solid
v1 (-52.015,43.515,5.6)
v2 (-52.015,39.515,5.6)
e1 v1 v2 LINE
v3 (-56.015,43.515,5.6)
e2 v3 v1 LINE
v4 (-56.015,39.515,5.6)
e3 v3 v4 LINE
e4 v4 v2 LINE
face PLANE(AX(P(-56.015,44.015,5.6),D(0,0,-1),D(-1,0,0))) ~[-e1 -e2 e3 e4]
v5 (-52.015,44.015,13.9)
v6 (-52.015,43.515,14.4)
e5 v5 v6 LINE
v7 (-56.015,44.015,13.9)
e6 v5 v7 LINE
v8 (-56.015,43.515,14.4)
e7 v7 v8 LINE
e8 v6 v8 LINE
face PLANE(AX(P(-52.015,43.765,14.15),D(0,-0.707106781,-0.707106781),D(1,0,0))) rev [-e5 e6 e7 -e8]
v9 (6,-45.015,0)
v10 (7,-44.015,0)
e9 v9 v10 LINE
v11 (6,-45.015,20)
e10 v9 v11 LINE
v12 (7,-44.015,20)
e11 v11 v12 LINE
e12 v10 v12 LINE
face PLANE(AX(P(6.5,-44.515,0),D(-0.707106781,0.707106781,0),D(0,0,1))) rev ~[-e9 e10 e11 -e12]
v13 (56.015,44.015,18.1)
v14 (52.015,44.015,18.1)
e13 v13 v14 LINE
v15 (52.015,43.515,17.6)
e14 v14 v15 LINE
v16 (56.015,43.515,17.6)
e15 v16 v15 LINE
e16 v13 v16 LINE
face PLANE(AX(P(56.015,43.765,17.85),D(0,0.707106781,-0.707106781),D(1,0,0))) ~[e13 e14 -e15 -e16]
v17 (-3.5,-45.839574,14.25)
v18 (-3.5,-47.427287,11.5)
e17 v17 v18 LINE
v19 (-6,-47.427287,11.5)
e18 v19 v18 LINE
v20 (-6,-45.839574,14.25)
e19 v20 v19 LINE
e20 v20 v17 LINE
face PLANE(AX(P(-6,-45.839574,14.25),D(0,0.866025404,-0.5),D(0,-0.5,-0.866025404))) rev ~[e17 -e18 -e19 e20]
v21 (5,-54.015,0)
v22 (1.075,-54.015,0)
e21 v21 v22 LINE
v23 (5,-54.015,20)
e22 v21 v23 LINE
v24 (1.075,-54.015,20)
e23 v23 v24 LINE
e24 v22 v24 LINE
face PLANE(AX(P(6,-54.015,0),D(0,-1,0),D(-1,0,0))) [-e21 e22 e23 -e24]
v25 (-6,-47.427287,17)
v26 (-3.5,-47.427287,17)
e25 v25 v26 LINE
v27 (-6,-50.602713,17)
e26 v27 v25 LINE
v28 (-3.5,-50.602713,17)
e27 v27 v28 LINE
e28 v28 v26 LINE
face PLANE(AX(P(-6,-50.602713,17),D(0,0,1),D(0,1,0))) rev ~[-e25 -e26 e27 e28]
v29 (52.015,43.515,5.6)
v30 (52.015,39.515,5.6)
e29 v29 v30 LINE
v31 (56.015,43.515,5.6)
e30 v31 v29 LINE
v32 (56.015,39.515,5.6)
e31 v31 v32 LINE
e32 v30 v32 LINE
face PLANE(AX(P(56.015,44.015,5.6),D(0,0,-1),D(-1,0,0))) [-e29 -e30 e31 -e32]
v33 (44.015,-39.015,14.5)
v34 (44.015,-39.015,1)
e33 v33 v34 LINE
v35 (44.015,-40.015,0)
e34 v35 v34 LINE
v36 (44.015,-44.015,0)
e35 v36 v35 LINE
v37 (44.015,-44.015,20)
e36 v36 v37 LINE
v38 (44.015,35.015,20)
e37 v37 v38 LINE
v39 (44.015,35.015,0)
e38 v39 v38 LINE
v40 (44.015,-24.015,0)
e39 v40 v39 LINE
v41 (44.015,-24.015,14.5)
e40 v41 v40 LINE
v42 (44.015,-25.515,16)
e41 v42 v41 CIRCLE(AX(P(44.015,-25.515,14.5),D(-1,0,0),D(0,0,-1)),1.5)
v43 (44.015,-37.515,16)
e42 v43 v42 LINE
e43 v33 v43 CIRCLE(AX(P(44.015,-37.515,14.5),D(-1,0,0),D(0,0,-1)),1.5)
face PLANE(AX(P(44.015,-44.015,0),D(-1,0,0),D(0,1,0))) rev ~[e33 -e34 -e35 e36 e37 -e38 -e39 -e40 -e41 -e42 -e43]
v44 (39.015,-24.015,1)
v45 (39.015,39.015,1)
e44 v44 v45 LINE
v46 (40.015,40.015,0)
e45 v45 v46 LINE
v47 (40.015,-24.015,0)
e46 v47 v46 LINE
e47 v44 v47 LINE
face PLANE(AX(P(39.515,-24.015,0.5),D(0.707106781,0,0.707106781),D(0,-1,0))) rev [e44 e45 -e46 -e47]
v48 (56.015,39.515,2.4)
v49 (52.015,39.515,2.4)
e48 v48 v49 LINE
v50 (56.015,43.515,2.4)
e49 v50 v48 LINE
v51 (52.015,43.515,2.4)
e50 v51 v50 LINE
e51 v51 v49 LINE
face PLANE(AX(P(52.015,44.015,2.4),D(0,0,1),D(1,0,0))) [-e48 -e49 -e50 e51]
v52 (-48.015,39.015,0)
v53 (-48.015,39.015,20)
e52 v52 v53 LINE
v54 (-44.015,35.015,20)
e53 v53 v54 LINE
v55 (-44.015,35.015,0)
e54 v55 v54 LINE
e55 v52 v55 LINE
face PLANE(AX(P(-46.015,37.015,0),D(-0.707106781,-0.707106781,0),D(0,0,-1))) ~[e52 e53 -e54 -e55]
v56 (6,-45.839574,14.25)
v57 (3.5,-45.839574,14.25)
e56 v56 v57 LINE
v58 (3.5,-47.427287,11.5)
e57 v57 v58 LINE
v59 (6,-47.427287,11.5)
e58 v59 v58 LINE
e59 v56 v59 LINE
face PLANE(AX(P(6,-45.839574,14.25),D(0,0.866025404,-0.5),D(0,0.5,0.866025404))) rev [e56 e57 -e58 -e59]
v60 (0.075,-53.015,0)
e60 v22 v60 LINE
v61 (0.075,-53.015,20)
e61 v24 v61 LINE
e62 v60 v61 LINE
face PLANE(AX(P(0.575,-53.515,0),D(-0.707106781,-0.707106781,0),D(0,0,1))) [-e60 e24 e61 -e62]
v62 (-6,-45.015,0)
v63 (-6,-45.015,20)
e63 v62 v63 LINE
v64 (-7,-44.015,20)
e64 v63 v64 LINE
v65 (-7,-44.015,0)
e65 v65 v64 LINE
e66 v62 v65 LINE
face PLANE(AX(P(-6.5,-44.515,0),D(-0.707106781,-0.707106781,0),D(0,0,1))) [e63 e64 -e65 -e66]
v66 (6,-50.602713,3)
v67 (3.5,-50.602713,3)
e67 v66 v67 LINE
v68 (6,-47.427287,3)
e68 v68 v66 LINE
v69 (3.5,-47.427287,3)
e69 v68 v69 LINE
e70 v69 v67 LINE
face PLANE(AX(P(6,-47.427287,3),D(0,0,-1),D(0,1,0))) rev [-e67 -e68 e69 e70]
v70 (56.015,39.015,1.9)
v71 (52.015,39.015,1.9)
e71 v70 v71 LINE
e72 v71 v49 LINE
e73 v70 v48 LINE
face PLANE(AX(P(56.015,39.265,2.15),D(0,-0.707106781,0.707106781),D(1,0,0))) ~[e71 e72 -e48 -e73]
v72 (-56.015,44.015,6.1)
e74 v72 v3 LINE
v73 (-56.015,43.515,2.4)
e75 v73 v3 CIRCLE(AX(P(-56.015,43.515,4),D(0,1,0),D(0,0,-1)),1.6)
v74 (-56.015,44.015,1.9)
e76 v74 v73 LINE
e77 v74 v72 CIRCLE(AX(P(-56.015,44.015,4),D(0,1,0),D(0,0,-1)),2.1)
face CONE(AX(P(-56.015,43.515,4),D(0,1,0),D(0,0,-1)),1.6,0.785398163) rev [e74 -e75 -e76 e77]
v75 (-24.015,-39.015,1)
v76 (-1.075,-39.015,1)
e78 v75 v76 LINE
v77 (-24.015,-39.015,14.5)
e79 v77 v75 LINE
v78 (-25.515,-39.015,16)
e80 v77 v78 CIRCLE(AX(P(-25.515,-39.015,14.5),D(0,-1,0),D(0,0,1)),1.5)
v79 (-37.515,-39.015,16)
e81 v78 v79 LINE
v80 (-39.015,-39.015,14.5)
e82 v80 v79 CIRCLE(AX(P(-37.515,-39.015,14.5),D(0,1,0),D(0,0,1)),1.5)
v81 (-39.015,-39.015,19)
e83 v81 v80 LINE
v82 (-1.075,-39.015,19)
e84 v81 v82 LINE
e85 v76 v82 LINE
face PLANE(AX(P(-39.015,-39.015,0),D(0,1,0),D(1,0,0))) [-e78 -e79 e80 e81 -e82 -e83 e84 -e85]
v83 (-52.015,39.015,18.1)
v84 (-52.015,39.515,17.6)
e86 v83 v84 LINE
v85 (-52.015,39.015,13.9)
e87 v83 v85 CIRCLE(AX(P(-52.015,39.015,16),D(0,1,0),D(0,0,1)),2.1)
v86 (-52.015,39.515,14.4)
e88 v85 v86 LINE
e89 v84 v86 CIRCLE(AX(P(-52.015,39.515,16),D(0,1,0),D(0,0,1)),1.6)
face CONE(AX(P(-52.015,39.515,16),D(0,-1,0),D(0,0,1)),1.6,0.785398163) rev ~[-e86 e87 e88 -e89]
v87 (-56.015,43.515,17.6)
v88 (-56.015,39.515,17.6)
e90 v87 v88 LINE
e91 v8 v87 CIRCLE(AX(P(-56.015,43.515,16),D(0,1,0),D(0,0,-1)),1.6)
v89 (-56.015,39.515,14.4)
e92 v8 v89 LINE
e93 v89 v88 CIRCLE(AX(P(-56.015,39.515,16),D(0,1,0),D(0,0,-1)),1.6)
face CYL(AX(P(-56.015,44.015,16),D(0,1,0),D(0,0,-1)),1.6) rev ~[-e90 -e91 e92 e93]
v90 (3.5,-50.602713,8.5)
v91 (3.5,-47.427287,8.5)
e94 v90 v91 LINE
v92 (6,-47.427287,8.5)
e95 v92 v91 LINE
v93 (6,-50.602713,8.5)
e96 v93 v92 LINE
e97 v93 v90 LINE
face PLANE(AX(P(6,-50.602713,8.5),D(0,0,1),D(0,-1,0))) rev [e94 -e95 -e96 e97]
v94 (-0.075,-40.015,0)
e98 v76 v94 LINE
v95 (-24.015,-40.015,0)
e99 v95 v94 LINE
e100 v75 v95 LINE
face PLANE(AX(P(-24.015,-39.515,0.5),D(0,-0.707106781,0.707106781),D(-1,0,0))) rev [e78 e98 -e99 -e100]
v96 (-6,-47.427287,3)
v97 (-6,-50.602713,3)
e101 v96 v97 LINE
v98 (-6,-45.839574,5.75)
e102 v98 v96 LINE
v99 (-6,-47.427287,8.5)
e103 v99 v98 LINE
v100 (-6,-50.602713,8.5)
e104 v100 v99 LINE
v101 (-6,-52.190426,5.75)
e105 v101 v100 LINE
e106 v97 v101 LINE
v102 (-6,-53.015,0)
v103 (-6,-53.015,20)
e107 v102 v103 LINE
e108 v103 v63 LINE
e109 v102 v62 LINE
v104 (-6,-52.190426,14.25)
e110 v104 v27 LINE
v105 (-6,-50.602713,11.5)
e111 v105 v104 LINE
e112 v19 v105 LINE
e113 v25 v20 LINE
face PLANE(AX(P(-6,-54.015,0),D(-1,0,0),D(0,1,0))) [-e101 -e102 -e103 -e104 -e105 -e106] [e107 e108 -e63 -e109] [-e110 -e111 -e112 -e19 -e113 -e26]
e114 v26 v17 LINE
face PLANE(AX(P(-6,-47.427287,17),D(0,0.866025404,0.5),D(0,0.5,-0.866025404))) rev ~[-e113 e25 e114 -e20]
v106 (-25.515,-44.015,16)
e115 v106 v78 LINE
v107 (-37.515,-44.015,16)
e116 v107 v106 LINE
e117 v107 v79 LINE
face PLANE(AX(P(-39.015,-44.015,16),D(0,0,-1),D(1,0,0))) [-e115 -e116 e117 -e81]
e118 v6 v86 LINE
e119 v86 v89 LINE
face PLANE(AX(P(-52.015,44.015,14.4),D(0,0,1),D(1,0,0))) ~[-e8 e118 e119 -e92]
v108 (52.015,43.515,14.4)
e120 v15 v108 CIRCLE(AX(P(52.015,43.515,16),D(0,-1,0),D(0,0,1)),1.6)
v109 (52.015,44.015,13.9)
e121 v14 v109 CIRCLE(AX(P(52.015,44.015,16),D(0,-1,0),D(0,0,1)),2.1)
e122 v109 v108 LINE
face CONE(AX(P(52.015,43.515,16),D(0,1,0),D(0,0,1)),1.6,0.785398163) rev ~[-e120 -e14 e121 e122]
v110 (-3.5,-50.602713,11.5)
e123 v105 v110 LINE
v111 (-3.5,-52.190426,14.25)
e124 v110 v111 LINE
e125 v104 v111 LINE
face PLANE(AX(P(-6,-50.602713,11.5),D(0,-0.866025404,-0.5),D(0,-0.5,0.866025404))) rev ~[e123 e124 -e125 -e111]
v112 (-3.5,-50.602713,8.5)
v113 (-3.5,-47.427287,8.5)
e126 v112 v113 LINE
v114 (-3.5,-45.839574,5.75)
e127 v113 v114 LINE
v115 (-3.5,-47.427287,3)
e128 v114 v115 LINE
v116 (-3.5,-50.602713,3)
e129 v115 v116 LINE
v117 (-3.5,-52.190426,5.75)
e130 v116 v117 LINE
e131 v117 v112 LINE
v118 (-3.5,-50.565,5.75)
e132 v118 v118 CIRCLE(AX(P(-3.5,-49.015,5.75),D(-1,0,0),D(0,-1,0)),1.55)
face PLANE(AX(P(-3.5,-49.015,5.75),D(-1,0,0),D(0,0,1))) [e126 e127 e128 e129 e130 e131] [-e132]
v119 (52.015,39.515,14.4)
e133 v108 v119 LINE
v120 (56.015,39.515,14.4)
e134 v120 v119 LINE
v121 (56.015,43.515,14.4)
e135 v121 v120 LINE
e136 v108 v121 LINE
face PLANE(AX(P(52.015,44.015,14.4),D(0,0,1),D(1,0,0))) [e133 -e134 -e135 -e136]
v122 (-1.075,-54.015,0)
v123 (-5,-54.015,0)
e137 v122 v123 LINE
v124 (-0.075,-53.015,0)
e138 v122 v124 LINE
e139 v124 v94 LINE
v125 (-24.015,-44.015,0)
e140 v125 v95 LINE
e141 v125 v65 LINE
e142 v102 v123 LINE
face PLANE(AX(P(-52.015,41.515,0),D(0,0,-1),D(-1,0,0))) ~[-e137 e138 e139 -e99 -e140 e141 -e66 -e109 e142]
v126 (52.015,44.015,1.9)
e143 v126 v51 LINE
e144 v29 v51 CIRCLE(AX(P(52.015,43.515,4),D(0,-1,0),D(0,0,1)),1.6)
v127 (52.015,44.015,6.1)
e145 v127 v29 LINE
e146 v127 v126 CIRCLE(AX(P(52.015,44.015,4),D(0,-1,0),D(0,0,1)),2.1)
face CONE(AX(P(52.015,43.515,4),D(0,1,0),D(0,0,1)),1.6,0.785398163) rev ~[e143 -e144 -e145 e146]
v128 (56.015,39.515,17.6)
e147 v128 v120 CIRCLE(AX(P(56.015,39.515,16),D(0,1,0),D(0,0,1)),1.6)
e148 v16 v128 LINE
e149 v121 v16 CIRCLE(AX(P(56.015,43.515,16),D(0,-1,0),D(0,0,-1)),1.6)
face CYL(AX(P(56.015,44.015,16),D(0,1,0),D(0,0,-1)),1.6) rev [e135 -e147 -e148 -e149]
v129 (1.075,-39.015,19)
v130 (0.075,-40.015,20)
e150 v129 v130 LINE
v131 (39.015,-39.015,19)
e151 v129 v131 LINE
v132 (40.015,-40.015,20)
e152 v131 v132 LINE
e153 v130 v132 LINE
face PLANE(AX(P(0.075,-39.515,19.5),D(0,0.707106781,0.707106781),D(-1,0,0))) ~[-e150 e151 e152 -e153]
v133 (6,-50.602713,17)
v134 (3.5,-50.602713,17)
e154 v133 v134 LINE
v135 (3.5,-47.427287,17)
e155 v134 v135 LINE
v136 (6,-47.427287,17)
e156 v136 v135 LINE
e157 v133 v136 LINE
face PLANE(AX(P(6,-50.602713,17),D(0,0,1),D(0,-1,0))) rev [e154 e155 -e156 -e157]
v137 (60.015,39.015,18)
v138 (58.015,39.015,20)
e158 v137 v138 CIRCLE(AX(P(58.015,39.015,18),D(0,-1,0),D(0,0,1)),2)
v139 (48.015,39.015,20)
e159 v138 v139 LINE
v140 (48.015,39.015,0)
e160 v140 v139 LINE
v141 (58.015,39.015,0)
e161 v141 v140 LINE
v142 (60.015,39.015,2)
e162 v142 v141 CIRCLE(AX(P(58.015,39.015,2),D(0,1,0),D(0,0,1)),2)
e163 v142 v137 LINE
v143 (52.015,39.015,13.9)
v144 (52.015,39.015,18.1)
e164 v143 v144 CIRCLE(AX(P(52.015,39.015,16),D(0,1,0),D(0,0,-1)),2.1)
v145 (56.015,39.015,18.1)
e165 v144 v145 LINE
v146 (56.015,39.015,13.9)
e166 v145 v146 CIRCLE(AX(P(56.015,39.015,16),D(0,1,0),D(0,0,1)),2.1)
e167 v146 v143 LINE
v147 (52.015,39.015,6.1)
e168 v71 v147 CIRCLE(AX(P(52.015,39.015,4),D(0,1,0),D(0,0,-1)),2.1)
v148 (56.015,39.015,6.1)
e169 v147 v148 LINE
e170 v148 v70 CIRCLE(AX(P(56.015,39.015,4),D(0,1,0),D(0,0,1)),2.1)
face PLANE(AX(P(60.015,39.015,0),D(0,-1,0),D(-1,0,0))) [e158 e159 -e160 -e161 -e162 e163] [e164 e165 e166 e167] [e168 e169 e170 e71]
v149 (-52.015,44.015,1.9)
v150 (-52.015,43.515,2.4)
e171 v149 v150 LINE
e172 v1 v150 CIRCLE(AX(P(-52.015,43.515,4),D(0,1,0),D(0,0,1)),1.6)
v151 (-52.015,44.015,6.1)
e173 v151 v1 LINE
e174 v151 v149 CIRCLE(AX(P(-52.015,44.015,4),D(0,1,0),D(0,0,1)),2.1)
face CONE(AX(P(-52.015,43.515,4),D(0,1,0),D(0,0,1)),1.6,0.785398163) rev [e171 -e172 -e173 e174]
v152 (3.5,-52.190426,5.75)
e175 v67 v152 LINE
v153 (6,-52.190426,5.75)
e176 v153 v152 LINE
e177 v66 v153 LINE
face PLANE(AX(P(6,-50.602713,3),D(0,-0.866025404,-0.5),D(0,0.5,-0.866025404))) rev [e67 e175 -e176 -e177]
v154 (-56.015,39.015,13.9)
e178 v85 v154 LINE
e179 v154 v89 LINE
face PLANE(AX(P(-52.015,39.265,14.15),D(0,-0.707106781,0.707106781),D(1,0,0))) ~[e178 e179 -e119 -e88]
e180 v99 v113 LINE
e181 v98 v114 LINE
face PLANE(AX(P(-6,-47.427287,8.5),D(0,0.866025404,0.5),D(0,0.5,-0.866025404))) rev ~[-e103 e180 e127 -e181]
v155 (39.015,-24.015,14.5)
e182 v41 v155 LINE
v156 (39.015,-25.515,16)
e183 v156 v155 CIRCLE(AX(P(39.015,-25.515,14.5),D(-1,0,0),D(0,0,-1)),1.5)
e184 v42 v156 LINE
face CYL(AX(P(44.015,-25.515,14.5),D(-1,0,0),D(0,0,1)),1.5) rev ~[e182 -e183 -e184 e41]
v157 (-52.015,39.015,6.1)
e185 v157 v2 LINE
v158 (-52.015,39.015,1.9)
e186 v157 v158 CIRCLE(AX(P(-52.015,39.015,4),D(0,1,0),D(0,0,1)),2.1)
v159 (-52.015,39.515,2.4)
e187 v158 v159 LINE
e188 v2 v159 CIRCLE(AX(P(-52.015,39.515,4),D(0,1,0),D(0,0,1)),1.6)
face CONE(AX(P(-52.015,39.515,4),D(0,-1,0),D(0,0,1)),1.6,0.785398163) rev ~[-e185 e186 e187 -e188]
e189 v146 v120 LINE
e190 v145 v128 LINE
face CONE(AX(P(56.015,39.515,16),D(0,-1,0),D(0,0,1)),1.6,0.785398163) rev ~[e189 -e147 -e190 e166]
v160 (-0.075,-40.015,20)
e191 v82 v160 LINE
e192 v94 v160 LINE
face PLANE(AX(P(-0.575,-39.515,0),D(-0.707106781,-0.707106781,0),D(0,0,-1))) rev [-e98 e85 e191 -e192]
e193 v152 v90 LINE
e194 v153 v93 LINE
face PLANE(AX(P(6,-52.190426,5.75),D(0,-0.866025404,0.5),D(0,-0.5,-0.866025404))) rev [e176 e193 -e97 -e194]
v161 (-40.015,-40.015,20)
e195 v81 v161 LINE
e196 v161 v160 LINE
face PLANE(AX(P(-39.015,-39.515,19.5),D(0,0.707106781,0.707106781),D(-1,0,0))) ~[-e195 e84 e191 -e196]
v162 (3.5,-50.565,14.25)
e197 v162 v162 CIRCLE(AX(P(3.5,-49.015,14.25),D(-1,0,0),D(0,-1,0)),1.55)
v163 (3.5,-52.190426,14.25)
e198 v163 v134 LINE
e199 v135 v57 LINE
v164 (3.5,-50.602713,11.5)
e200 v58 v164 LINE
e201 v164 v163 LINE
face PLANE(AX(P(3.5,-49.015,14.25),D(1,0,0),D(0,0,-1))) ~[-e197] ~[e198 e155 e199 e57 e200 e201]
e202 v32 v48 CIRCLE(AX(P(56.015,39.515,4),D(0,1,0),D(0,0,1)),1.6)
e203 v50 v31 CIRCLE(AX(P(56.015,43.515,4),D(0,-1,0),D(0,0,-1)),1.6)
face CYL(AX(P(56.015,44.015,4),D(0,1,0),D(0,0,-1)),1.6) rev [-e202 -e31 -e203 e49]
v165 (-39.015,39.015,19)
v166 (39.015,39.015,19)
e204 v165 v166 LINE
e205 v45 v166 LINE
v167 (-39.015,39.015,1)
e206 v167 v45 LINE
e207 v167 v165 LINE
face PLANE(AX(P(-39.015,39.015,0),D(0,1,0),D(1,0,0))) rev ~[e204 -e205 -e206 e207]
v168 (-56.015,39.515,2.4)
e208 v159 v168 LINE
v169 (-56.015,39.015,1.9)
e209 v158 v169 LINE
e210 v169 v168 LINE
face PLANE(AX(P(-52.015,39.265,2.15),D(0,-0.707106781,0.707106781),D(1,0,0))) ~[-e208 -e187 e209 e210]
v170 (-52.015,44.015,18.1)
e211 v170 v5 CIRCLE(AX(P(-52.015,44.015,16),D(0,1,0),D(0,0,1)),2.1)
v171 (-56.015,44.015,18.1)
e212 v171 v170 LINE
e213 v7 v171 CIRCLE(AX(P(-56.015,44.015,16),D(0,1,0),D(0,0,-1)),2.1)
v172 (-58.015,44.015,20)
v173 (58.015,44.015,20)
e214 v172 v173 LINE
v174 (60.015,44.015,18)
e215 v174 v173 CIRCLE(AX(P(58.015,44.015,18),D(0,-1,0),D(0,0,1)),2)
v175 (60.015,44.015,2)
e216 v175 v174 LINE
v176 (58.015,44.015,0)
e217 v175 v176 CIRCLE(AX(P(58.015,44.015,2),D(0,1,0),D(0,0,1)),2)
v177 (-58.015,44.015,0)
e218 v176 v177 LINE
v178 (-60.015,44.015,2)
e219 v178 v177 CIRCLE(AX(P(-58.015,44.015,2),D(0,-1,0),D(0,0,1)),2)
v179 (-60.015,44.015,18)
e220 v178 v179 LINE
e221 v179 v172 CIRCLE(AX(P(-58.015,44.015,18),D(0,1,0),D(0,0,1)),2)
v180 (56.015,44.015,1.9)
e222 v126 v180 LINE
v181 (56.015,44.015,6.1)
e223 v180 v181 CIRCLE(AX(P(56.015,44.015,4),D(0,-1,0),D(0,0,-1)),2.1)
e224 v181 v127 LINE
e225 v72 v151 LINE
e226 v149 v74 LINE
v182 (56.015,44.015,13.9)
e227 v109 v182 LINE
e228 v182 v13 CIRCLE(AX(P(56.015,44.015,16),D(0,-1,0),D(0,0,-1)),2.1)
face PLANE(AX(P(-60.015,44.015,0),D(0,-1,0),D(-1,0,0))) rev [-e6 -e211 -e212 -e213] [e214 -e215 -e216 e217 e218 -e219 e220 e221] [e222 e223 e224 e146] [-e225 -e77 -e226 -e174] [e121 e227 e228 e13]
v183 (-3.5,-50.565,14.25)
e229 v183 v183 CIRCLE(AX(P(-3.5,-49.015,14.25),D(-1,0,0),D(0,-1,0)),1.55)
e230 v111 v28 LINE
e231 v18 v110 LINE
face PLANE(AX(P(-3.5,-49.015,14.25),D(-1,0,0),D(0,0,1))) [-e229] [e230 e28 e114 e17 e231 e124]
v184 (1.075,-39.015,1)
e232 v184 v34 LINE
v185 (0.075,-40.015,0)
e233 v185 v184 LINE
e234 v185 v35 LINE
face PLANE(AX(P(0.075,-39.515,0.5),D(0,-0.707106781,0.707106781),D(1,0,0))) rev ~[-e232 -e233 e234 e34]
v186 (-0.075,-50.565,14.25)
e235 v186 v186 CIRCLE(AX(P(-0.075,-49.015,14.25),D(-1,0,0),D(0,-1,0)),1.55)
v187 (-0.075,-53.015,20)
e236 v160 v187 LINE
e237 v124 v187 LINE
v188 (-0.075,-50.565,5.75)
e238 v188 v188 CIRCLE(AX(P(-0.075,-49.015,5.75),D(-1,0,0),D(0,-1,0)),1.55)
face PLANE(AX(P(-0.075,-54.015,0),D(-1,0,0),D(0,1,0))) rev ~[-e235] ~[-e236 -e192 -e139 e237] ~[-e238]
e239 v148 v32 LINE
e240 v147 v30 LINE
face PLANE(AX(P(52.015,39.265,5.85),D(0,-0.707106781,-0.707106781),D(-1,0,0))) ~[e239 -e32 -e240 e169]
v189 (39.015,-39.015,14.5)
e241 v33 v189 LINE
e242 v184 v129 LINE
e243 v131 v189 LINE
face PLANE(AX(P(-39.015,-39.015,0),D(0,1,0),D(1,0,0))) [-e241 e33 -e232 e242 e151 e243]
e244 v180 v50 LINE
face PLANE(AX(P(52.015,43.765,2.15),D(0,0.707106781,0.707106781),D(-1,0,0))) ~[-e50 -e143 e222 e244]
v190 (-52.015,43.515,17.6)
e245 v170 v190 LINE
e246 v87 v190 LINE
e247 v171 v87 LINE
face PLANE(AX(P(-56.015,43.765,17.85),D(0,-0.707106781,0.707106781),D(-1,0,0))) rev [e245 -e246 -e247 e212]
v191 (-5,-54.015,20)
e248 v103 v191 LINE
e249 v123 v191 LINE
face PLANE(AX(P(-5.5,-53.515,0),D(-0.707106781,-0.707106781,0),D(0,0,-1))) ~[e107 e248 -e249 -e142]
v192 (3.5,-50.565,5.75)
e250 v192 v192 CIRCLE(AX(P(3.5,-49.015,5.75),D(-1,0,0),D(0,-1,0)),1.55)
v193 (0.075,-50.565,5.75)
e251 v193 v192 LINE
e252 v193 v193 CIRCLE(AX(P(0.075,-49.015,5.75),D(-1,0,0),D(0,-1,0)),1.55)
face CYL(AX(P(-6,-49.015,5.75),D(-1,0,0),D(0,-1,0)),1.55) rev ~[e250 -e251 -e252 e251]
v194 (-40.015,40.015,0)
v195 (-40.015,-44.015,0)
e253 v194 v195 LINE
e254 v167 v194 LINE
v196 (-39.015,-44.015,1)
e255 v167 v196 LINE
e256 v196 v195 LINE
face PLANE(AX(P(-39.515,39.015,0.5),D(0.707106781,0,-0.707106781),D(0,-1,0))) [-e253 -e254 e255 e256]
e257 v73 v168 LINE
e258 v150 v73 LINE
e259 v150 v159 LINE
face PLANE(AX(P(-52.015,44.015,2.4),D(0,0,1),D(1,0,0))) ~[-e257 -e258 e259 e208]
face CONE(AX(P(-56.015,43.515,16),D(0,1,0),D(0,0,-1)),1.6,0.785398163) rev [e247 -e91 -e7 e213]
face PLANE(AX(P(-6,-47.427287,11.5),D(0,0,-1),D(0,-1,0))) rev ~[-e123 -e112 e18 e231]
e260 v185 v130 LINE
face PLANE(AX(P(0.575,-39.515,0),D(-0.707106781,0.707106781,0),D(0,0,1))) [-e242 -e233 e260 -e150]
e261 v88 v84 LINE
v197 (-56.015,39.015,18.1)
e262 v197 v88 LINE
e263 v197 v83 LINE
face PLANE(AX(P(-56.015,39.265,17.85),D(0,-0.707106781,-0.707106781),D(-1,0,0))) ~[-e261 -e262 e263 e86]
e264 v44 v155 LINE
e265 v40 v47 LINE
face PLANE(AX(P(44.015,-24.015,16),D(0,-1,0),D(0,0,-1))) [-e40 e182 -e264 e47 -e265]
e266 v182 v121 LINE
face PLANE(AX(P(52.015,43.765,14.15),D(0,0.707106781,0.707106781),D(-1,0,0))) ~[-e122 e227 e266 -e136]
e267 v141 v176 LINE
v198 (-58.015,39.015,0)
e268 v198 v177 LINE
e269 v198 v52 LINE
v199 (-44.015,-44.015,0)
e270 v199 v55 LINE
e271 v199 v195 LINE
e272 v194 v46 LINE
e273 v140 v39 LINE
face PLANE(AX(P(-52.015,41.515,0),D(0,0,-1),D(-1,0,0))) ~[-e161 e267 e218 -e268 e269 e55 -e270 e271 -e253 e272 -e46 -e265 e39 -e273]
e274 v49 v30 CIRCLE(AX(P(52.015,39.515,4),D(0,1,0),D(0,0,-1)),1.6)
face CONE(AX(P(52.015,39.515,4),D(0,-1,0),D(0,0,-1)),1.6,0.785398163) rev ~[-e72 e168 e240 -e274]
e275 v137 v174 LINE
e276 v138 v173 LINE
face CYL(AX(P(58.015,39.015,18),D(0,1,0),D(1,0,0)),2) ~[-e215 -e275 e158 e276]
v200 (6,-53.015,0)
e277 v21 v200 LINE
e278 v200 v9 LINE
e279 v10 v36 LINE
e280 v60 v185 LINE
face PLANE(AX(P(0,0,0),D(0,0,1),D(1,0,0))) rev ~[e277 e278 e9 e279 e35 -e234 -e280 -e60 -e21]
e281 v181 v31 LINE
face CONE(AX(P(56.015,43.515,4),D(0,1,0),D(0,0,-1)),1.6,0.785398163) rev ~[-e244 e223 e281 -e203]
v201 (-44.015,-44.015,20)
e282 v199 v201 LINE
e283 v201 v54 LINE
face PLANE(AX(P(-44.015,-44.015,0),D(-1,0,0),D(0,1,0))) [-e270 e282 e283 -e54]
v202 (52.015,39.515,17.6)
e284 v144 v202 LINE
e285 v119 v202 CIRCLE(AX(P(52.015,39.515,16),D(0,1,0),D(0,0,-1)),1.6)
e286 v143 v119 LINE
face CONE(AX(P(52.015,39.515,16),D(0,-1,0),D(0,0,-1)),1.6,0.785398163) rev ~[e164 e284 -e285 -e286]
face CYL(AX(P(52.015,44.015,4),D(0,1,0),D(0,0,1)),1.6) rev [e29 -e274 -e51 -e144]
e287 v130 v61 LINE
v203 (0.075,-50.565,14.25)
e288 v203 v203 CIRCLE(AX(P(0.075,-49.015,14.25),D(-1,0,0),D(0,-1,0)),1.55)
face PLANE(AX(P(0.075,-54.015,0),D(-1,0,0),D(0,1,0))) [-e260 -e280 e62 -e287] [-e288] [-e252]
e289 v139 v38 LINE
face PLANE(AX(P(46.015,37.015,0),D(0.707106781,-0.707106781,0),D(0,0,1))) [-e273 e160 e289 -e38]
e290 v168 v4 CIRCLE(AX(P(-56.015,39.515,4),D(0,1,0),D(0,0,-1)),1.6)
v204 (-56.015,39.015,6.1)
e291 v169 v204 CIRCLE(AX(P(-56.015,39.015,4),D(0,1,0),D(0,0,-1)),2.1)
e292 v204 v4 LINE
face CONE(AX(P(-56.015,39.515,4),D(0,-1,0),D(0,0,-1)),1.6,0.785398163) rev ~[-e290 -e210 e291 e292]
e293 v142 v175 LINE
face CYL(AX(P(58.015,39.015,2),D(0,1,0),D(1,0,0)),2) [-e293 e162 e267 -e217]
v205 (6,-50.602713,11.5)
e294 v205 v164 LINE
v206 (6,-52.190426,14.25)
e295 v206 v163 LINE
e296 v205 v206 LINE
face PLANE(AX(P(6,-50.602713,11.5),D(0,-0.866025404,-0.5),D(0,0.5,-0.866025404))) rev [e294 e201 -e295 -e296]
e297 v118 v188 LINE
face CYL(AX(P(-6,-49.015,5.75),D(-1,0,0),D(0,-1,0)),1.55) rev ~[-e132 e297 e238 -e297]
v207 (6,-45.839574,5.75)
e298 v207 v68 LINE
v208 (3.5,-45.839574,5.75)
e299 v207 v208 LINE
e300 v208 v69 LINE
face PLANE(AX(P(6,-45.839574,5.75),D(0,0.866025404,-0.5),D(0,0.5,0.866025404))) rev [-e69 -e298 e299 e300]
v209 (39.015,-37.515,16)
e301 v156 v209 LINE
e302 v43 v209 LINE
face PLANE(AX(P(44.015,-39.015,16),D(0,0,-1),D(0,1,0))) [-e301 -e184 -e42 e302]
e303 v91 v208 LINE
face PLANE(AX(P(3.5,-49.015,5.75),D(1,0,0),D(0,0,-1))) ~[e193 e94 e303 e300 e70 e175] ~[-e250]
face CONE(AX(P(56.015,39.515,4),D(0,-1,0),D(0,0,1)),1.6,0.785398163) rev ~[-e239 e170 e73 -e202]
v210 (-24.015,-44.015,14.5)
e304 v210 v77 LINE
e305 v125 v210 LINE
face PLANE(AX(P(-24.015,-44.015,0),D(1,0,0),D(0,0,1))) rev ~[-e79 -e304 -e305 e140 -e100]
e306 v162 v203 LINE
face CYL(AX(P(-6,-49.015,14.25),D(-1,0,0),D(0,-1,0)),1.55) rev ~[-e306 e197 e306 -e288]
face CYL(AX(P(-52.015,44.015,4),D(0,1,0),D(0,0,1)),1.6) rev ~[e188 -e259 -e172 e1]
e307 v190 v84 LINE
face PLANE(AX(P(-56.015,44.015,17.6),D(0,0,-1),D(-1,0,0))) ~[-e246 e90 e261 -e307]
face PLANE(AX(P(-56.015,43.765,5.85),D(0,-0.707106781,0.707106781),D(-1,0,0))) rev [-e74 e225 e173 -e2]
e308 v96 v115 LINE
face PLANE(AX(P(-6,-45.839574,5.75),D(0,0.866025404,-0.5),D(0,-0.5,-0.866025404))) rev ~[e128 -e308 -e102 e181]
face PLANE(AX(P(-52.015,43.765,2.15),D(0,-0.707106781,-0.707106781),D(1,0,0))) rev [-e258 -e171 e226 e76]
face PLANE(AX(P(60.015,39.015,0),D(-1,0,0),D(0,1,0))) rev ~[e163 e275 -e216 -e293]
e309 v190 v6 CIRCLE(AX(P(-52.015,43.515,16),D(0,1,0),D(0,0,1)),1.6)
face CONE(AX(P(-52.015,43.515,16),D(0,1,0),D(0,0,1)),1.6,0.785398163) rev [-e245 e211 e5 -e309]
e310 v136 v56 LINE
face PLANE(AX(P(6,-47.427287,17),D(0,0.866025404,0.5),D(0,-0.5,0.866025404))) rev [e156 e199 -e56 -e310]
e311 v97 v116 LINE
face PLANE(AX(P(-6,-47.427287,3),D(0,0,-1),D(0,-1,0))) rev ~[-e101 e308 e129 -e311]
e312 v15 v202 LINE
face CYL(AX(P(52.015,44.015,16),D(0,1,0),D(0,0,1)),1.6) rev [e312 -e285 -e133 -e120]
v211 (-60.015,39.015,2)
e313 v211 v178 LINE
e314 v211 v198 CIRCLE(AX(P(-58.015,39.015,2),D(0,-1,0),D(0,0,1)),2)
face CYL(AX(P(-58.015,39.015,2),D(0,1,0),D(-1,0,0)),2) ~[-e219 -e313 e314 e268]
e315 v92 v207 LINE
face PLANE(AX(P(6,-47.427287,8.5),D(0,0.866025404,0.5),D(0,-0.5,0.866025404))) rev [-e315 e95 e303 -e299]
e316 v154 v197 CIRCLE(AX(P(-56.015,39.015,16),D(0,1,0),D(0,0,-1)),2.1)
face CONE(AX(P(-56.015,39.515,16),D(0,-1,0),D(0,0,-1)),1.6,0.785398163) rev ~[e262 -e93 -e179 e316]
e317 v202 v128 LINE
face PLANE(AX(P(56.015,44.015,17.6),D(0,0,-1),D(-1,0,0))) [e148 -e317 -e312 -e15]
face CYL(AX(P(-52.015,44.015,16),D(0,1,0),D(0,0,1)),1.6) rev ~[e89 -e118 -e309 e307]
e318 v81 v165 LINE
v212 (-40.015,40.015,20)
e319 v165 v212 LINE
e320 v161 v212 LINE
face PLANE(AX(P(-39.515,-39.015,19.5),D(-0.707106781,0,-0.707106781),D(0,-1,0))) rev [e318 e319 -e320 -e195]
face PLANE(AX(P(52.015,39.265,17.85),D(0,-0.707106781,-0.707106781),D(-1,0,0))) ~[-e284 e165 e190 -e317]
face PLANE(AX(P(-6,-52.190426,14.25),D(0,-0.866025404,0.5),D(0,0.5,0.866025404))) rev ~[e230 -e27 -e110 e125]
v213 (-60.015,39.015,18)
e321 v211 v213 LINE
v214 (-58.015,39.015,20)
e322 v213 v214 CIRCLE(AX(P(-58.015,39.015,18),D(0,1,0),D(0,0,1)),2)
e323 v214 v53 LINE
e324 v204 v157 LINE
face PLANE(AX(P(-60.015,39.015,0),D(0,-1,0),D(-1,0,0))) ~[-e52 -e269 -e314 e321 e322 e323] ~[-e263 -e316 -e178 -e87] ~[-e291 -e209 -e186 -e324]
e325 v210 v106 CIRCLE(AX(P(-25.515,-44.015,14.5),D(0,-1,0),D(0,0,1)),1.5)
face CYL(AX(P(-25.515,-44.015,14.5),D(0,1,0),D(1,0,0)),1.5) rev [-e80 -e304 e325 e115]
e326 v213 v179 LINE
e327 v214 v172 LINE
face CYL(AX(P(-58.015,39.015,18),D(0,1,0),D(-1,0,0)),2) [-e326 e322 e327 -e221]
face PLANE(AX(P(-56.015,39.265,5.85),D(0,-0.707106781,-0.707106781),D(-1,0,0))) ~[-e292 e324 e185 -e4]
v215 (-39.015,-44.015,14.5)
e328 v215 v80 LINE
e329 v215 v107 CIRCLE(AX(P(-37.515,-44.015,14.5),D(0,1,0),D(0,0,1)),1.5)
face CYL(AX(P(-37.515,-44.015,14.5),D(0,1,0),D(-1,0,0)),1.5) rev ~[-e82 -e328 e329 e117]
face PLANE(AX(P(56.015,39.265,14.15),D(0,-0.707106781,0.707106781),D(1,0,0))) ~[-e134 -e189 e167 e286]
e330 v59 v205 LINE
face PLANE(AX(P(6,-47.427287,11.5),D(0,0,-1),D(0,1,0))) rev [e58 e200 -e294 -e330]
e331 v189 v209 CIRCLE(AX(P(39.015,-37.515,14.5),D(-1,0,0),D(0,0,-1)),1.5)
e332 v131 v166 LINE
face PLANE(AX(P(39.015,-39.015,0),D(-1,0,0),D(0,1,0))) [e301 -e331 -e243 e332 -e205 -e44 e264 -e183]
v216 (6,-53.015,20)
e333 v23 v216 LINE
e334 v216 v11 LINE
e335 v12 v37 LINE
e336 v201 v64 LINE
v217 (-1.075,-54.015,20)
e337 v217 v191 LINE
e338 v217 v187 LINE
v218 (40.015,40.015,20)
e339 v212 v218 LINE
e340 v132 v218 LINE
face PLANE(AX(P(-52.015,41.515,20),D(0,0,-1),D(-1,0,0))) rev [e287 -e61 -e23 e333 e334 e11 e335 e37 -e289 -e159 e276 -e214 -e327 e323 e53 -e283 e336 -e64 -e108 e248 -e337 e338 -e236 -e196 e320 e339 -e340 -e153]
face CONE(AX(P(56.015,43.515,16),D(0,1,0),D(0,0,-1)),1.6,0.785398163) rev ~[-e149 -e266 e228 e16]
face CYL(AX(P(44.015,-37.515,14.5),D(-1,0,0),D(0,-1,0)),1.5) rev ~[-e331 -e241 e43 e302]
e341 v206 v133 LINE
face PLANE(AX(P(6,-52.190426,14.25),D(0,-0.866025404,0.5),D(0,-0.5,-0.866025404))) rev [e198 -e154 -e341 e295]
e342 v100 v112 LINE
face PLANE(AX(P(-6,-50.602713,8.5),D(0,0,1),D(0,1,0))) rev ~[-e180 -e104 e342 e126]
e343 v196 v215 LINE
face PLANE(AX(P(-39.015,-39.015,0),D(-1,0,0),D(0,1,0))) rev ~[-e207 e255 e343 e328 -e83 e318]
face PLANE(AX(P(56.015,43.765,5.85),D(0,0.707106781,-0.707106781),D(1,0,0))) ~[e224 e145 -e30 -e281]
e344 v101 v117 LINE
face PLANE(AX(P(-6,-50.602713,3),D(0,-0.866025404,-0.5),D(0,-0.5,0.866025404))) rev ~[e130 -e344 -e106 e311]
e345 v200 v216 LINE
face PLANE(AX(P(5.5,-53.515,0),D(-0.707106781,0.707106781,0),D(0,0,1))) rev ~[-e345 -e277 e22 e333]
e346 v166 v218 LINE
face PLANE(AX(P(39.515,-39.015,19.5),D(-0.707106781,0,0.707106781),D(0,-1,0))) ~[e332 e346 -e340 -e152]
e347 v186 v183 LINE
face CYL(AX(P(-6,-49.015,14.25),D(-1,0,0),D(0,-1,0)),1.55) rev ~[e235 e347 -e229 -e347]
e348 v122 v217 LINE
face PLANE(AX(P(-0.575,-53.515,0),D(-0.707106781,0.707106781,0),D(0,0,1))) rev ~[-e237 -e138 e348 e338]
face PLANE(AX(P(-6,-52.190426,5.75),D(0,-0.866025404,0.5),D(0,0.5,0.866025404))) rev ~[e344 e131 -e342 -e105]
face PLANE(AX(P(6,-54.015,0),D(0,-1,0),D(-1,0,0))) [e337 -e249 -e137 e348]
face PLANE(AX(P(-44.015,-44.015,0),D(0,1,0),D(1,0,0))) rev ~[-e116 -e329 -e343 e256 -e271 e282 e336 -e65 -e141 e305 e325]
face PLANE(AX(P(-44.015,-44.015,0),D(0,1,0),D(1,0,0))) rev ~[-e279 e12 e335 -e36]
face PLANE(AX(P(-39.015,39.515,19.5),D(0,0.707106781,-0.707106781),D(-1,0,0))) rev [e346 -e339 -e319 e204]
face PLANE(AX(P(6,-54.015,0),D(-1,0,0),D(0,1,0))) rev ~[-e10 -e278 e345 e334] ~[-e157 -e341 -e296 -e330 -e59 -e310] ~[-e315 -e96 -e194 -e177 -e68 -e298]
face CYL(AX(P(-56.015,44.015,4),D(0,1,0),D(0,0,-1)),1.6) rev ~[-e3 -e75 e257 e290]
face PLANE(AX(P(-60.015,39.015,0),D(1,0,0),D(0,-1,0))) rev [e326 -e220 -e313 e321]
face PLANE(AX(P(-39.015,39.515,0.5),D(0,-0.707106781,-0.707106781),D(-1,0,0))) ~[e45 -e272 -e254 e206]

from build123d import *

# Parameters (mm, degrees)
SKETCH1_W            = 88.03
SKETCH1_H            = 88.03
SKETCH1_W_2          = 78.03
SKETCH1_H_2          = 78.03
BOSS_EXTRUDE1_DEPTH  = 20
SKETCH2_W            = 16
SKETCH2_H            = 15
CUT_EXTRUDE1_DEPTH   = 20
SKETCH5_W            = 12
SKETCH5_H            = 10
BOSS_EXTRUDE2_DEPTH  = 20
SKETCH3_W            = 0.15
SKETCH3_H            = 15
CUT_EXTRUDE2_DEPTH   = 73.490968058
CUT_EXTRUDE3_DEPTH   = 2.5
SKETCH7_R            = 1.55
CUT_EXTRUDE4_DEPTH   = 77.283159675
SKETCH8_W            = 16
SKETCH8_H            = 5
BOSS_EXTRUDE3_DEPTH  = 20
CUT_EXTRUDE5_DEPTH   = 117.669109558
FILLET8_R            = 2
FILLET8_OF_MIRROR9_R = 2
CHAMFER1_SIZE        = 4
SKETCH10_W           = 15
SKETCH10_H           = 16
CUT_EXTRUDE6_DEPTH   = 15
FILLET7_R            = 1.5
CHAMFER2_SIZE        = 1
CHAMFER3_SIZE        = 0.5


with BuildPart() as part:
    # Sketch1 → Boss-Extrude1 (new body)
    with BuildSketch(Plane.XY):
        Rectangle(SKETCH1_W, SKETCH1_H)
        Rectangle(SKETCH1_W_2, SKETCH1_H_2, mode=Mode.SUBTRACT)
    extrude(amount=BOSS_EXTRUDE1_DEPTH)

    # Sketch2 → Cut-Extrude1 (cut)
    with BuildSketch(Plane(origin=(44.015, 0, 0), x_dir=(0, 0, -1), z_dir=(1, 0, 0))):
        with Locations((-8, -31.515)):
            Rectangle(SKETCH2_W, SKETCH2_H)
    extrude(amount=-CUT_EXTRUDE1_DEPTH, mode=Mode.SUBTRACT)

    # Sketch5 → Boss-Extrude2 (add)
    with BuildSketch(Plane(origin=(0, 0, 0), x_dir=(-1, 0, 0), z_dir=(0, 0, -1))):
        with Locations((0, -49.015)):
            Rectangle(SKETCH5_W, SKETCH5_H)
    extrude(amount=-BOSS_EXTRUDE2_DEPTH)

    # Sketch3 → Cut-Extrude2 (cut, through all)
    with BuildSketch(Plane(origin=(0, 0, 0), x_dir=(-1, 0, 0), z_dir=(0, 0, -1))):
        with Locations((0, -46.515)):
            Rectangle(SKETCH3_W, SKETCH3_H)
    extrude(amount=-CUT_EXTRUDE2_DEPTH, mode=Mode.SUBTRACT)

    # Sketch6 → Cut-Extrude3 (cut)
    with BuildSketch(Plane.ZY.offset(6)):
        Polygon((8.5, -47.42728676), (5.75, -45.839573519), (3, -47.42728676), (3, -50.60271324), (5.75, -52.190426481), (8.5, -50.60271324), align=None)
        Polygon((17, -47.42728676), (14.25, -45.839573519), (11.5, -47.42728676), (11.5, -50.60271324), (14.25, -52.190426481), (17, -50.60271324), align=None)
    cut_extrude3 = extrude(amount=-CUT_EXTRUDE3_DEPTH, mode=Mode.SUBTRACT)

    # Sketch7 → Cut-Extrude4 (cut, symmetric)
    with BuildSketch(Plane.ZY.offset(6)):
        with Locations(Location((5.75, -49.015, 0), (0, 0, 270))):
            Circle(SKETCH7_R)
        with Locations(Location((14.25, -49.015, 0), (0, 0, 270))):
            Circle(SKETCH7_R)
    cut_extrude4 = extrude(amount=CUT_EXTRUDE4_DEPTH, both=True, mode=Mode.SUBTRACT)

    # Sketch8 → Boss-Extrude3 (add)
    with BuildSketch(Plane(origin=(0, 0, 0), x_dir=(-1, 0, 0), z_dir=(0, 0, -1))):
        with Locations((-52.015, 41.515)):
            Rectangle(SKETCH8_W, SKETCH8_H)
    boss_extrude3 = extrude(amount=-BOSS_EXTRUDE3_DEPTH)

    # Sketch9 → Cut-Extrude5 (cut, through all)
    with BuildSketch(Plane(origin=(0, 44.015, 0), x_dir=(1, 0, 0), z_dir=(0, 1, 0))):
        with BuildLine():
            Line((52.015, -14.4), (56.015, -14.4))
            ThreePointArc((56.015, -14.4), (57.615, -16), (56.015, -17.6))
            Line((56.015, -17.6), (52.015, -17.6))
            ThreePointArc((52.015, -17.6), (50.415, -16), (52.015, -14.4))
        make_face()
        with BuildLine():
            Line((52.015, -2.4), (56.015, -2.4))
            ThreePointArc((56.015, -2.4), (57.615, -4), (56.015, -5.6))
            Line((56.015, -5.6), (52.015, -5.6))
            ThreePointArc((52.015, -5.6), (50.415, -4), (52.015, -2.4))
        make_face()
    cut_extrude5 = extrude(amount=-CUT_EXTRUDE5_DEPTH, mode=Mode.SUBTRACT)

    # Fillet8
    fillet8_edges = [part.edges().sort_by_distance(p)[0] for p in [
        (60.015, 41.515, 0),
        (60.015, 41.515, 20),
    ]]
    fillet(fillet8_edges, radius=FILLET8_R)

    # Mirror9: Cut-Extrude3, Cut-Extrude4, Boss-Extrude3, Cut-Extrude5 across plane
    add(cut_extrude3.mirror(Plane(origin=(0, 0, 0), x_dir=(0, 0, 1), z_dir=(1, 0, 0))), mode=Mode.SUBTRACT)
    add(cut_extrude4.mirror(Plane(origin=(0, 0, 0), x_dir=(0, 0, 1), z_dir=(1, 0, 0))), mode=Mode.SUBTRACT)
    add(boss_extrude3.mirror(Plane(origin=(0, 0, 0), x_dir=(0, 0, 1), z_dir=(1, 0, 0))))
    add(cut_extrude5.mirror(Plane(origin=(0, 0, 0), x_dir=(0, 0, 1), z_dir=(1, 0, 0))), mode=Mode.SUBTRACT)

    # Fillet8 of Mirror9
    fillet8_of_mirror9_edges = [part.edges().sort_by_distance(p)[0] for p in [
        (-60.015, 41.515, 0),
        (-60.015, 41.515, 20),
    ]]
    fillet(fillet8_of_mirror9_edges, radius=FILLET8_OF_MIRROR9_R)

    # Chamfer1
    chamfer1_edges = [part.edges().sort_by_distance(p)[0] for p in [
        (44.015, 39.015, 10),
        (-44.015, 39.015, 10),
    ]]
    chamfer(chamfer1_edges, length=CHAMFER1_SIZE)

    # Sketch10 → Cut-Extrude6 (cut)
    with BuildSketch(Plane.XZ.offset(44.015)):
        with Locations((-31.515, 8)):
            Rectangle(SKETCH10_W, SKETCH10_H)
    extrude(amount=-CUT_EXTRUDE6_DEPTH, mode=Mode.SUBTRACT)

    # Fillet7
    fillet7_edges = [part.edges().sort_by_distance(p)[0] for p in [
        (-39.015, -41.515, 16),
        (-24.015, -41.515, 16),
        (41.515, -39.015, 16),
        (41.515, -24.015, 16),
    ]]
    fillet(fillet7_edges, radius=FILLET7_R)

    # Chamfer2
    chamfer2_edges = [part.edges().sort_by_distance(p)[0] for p in [
        (0, 39.015, 0),
        (-39.015, -2.5, 0),
        (39.015, 0, 20),
        (0, 39.015, 20),
        (-39.015, 0, 20),
        (-19.545, -39.015, 20),
        (39.015, 7.5, 0),
        (-12.045, -39.015, 0),
        (-6, -54.015, 10),
        (-6, -44.015, 10),
        (6, -44.015, 10),
        (6, -54.015, 10),
        (22.045, -39.015, 0),
        (19.545, -39.015, 20),
        (0.075, -54.015, 10),
        (0.075, -39.015, 10),
        (-0.075, -39.015, 10),
        (-0.075, -54.015, 10),
    ]]
    chamfer(chamfer2_edges, length=CHAMFER2_SIZE)

    # Chamfer3
    chamfer3_edges = [part.edges().sort_by_distance(p)[0] for p in [
        (54.015, 39.015, 5.6),
        (57.615, 39.015, 4),
        (54.015, 39.015, 2.4),
        (50.415, 39.015, 4),
        (54.015, 39.015, 17.6),
        (57.615, 39.015, 16),
        (54.015, 39.015, 14.4),
        (50.415, 39.015, 16),
        (50.415, 44.015, 16),
        (54.015, 44.015, 17.6),
        (57.615, 44.015, 16),
        (54.015, 44.015, 14.4),
        (50.415, 44.015, 4),
        (54.015, 44.015, 5.6),
        (57.615, 44.015, 4),
        (54.015, 44.015, 2.4),
        (-54.015, 39.015, 2.4),
        (-57.615, 39.015, 4),
        (-54.015, 39.015, 5.6),
        (-50.415, 39.015, 4),
        (-54.015, 39.015, 14.4),
        (-57.615, 39.015, 16),
        (-54.015, 39.015, 17.6),
        (-50.415, 39.015, 16),
        (-50.415, 44.015, 16),
        (-54.015, 44.015, 17.6),
        (-57.615, 44.015, 16),
        (-54.015, 44.015, 14.4),
        (-50.415, 44.015, 4),
        (-54.015, 44.015, 5.6),
        (-57.615, 44.015, 4),
        (-54.015, 44.015, 2.4),
    ]]
    chamfer(chamfer3_edges, length=CHAMFER3_SIZE)


solid = part.part
